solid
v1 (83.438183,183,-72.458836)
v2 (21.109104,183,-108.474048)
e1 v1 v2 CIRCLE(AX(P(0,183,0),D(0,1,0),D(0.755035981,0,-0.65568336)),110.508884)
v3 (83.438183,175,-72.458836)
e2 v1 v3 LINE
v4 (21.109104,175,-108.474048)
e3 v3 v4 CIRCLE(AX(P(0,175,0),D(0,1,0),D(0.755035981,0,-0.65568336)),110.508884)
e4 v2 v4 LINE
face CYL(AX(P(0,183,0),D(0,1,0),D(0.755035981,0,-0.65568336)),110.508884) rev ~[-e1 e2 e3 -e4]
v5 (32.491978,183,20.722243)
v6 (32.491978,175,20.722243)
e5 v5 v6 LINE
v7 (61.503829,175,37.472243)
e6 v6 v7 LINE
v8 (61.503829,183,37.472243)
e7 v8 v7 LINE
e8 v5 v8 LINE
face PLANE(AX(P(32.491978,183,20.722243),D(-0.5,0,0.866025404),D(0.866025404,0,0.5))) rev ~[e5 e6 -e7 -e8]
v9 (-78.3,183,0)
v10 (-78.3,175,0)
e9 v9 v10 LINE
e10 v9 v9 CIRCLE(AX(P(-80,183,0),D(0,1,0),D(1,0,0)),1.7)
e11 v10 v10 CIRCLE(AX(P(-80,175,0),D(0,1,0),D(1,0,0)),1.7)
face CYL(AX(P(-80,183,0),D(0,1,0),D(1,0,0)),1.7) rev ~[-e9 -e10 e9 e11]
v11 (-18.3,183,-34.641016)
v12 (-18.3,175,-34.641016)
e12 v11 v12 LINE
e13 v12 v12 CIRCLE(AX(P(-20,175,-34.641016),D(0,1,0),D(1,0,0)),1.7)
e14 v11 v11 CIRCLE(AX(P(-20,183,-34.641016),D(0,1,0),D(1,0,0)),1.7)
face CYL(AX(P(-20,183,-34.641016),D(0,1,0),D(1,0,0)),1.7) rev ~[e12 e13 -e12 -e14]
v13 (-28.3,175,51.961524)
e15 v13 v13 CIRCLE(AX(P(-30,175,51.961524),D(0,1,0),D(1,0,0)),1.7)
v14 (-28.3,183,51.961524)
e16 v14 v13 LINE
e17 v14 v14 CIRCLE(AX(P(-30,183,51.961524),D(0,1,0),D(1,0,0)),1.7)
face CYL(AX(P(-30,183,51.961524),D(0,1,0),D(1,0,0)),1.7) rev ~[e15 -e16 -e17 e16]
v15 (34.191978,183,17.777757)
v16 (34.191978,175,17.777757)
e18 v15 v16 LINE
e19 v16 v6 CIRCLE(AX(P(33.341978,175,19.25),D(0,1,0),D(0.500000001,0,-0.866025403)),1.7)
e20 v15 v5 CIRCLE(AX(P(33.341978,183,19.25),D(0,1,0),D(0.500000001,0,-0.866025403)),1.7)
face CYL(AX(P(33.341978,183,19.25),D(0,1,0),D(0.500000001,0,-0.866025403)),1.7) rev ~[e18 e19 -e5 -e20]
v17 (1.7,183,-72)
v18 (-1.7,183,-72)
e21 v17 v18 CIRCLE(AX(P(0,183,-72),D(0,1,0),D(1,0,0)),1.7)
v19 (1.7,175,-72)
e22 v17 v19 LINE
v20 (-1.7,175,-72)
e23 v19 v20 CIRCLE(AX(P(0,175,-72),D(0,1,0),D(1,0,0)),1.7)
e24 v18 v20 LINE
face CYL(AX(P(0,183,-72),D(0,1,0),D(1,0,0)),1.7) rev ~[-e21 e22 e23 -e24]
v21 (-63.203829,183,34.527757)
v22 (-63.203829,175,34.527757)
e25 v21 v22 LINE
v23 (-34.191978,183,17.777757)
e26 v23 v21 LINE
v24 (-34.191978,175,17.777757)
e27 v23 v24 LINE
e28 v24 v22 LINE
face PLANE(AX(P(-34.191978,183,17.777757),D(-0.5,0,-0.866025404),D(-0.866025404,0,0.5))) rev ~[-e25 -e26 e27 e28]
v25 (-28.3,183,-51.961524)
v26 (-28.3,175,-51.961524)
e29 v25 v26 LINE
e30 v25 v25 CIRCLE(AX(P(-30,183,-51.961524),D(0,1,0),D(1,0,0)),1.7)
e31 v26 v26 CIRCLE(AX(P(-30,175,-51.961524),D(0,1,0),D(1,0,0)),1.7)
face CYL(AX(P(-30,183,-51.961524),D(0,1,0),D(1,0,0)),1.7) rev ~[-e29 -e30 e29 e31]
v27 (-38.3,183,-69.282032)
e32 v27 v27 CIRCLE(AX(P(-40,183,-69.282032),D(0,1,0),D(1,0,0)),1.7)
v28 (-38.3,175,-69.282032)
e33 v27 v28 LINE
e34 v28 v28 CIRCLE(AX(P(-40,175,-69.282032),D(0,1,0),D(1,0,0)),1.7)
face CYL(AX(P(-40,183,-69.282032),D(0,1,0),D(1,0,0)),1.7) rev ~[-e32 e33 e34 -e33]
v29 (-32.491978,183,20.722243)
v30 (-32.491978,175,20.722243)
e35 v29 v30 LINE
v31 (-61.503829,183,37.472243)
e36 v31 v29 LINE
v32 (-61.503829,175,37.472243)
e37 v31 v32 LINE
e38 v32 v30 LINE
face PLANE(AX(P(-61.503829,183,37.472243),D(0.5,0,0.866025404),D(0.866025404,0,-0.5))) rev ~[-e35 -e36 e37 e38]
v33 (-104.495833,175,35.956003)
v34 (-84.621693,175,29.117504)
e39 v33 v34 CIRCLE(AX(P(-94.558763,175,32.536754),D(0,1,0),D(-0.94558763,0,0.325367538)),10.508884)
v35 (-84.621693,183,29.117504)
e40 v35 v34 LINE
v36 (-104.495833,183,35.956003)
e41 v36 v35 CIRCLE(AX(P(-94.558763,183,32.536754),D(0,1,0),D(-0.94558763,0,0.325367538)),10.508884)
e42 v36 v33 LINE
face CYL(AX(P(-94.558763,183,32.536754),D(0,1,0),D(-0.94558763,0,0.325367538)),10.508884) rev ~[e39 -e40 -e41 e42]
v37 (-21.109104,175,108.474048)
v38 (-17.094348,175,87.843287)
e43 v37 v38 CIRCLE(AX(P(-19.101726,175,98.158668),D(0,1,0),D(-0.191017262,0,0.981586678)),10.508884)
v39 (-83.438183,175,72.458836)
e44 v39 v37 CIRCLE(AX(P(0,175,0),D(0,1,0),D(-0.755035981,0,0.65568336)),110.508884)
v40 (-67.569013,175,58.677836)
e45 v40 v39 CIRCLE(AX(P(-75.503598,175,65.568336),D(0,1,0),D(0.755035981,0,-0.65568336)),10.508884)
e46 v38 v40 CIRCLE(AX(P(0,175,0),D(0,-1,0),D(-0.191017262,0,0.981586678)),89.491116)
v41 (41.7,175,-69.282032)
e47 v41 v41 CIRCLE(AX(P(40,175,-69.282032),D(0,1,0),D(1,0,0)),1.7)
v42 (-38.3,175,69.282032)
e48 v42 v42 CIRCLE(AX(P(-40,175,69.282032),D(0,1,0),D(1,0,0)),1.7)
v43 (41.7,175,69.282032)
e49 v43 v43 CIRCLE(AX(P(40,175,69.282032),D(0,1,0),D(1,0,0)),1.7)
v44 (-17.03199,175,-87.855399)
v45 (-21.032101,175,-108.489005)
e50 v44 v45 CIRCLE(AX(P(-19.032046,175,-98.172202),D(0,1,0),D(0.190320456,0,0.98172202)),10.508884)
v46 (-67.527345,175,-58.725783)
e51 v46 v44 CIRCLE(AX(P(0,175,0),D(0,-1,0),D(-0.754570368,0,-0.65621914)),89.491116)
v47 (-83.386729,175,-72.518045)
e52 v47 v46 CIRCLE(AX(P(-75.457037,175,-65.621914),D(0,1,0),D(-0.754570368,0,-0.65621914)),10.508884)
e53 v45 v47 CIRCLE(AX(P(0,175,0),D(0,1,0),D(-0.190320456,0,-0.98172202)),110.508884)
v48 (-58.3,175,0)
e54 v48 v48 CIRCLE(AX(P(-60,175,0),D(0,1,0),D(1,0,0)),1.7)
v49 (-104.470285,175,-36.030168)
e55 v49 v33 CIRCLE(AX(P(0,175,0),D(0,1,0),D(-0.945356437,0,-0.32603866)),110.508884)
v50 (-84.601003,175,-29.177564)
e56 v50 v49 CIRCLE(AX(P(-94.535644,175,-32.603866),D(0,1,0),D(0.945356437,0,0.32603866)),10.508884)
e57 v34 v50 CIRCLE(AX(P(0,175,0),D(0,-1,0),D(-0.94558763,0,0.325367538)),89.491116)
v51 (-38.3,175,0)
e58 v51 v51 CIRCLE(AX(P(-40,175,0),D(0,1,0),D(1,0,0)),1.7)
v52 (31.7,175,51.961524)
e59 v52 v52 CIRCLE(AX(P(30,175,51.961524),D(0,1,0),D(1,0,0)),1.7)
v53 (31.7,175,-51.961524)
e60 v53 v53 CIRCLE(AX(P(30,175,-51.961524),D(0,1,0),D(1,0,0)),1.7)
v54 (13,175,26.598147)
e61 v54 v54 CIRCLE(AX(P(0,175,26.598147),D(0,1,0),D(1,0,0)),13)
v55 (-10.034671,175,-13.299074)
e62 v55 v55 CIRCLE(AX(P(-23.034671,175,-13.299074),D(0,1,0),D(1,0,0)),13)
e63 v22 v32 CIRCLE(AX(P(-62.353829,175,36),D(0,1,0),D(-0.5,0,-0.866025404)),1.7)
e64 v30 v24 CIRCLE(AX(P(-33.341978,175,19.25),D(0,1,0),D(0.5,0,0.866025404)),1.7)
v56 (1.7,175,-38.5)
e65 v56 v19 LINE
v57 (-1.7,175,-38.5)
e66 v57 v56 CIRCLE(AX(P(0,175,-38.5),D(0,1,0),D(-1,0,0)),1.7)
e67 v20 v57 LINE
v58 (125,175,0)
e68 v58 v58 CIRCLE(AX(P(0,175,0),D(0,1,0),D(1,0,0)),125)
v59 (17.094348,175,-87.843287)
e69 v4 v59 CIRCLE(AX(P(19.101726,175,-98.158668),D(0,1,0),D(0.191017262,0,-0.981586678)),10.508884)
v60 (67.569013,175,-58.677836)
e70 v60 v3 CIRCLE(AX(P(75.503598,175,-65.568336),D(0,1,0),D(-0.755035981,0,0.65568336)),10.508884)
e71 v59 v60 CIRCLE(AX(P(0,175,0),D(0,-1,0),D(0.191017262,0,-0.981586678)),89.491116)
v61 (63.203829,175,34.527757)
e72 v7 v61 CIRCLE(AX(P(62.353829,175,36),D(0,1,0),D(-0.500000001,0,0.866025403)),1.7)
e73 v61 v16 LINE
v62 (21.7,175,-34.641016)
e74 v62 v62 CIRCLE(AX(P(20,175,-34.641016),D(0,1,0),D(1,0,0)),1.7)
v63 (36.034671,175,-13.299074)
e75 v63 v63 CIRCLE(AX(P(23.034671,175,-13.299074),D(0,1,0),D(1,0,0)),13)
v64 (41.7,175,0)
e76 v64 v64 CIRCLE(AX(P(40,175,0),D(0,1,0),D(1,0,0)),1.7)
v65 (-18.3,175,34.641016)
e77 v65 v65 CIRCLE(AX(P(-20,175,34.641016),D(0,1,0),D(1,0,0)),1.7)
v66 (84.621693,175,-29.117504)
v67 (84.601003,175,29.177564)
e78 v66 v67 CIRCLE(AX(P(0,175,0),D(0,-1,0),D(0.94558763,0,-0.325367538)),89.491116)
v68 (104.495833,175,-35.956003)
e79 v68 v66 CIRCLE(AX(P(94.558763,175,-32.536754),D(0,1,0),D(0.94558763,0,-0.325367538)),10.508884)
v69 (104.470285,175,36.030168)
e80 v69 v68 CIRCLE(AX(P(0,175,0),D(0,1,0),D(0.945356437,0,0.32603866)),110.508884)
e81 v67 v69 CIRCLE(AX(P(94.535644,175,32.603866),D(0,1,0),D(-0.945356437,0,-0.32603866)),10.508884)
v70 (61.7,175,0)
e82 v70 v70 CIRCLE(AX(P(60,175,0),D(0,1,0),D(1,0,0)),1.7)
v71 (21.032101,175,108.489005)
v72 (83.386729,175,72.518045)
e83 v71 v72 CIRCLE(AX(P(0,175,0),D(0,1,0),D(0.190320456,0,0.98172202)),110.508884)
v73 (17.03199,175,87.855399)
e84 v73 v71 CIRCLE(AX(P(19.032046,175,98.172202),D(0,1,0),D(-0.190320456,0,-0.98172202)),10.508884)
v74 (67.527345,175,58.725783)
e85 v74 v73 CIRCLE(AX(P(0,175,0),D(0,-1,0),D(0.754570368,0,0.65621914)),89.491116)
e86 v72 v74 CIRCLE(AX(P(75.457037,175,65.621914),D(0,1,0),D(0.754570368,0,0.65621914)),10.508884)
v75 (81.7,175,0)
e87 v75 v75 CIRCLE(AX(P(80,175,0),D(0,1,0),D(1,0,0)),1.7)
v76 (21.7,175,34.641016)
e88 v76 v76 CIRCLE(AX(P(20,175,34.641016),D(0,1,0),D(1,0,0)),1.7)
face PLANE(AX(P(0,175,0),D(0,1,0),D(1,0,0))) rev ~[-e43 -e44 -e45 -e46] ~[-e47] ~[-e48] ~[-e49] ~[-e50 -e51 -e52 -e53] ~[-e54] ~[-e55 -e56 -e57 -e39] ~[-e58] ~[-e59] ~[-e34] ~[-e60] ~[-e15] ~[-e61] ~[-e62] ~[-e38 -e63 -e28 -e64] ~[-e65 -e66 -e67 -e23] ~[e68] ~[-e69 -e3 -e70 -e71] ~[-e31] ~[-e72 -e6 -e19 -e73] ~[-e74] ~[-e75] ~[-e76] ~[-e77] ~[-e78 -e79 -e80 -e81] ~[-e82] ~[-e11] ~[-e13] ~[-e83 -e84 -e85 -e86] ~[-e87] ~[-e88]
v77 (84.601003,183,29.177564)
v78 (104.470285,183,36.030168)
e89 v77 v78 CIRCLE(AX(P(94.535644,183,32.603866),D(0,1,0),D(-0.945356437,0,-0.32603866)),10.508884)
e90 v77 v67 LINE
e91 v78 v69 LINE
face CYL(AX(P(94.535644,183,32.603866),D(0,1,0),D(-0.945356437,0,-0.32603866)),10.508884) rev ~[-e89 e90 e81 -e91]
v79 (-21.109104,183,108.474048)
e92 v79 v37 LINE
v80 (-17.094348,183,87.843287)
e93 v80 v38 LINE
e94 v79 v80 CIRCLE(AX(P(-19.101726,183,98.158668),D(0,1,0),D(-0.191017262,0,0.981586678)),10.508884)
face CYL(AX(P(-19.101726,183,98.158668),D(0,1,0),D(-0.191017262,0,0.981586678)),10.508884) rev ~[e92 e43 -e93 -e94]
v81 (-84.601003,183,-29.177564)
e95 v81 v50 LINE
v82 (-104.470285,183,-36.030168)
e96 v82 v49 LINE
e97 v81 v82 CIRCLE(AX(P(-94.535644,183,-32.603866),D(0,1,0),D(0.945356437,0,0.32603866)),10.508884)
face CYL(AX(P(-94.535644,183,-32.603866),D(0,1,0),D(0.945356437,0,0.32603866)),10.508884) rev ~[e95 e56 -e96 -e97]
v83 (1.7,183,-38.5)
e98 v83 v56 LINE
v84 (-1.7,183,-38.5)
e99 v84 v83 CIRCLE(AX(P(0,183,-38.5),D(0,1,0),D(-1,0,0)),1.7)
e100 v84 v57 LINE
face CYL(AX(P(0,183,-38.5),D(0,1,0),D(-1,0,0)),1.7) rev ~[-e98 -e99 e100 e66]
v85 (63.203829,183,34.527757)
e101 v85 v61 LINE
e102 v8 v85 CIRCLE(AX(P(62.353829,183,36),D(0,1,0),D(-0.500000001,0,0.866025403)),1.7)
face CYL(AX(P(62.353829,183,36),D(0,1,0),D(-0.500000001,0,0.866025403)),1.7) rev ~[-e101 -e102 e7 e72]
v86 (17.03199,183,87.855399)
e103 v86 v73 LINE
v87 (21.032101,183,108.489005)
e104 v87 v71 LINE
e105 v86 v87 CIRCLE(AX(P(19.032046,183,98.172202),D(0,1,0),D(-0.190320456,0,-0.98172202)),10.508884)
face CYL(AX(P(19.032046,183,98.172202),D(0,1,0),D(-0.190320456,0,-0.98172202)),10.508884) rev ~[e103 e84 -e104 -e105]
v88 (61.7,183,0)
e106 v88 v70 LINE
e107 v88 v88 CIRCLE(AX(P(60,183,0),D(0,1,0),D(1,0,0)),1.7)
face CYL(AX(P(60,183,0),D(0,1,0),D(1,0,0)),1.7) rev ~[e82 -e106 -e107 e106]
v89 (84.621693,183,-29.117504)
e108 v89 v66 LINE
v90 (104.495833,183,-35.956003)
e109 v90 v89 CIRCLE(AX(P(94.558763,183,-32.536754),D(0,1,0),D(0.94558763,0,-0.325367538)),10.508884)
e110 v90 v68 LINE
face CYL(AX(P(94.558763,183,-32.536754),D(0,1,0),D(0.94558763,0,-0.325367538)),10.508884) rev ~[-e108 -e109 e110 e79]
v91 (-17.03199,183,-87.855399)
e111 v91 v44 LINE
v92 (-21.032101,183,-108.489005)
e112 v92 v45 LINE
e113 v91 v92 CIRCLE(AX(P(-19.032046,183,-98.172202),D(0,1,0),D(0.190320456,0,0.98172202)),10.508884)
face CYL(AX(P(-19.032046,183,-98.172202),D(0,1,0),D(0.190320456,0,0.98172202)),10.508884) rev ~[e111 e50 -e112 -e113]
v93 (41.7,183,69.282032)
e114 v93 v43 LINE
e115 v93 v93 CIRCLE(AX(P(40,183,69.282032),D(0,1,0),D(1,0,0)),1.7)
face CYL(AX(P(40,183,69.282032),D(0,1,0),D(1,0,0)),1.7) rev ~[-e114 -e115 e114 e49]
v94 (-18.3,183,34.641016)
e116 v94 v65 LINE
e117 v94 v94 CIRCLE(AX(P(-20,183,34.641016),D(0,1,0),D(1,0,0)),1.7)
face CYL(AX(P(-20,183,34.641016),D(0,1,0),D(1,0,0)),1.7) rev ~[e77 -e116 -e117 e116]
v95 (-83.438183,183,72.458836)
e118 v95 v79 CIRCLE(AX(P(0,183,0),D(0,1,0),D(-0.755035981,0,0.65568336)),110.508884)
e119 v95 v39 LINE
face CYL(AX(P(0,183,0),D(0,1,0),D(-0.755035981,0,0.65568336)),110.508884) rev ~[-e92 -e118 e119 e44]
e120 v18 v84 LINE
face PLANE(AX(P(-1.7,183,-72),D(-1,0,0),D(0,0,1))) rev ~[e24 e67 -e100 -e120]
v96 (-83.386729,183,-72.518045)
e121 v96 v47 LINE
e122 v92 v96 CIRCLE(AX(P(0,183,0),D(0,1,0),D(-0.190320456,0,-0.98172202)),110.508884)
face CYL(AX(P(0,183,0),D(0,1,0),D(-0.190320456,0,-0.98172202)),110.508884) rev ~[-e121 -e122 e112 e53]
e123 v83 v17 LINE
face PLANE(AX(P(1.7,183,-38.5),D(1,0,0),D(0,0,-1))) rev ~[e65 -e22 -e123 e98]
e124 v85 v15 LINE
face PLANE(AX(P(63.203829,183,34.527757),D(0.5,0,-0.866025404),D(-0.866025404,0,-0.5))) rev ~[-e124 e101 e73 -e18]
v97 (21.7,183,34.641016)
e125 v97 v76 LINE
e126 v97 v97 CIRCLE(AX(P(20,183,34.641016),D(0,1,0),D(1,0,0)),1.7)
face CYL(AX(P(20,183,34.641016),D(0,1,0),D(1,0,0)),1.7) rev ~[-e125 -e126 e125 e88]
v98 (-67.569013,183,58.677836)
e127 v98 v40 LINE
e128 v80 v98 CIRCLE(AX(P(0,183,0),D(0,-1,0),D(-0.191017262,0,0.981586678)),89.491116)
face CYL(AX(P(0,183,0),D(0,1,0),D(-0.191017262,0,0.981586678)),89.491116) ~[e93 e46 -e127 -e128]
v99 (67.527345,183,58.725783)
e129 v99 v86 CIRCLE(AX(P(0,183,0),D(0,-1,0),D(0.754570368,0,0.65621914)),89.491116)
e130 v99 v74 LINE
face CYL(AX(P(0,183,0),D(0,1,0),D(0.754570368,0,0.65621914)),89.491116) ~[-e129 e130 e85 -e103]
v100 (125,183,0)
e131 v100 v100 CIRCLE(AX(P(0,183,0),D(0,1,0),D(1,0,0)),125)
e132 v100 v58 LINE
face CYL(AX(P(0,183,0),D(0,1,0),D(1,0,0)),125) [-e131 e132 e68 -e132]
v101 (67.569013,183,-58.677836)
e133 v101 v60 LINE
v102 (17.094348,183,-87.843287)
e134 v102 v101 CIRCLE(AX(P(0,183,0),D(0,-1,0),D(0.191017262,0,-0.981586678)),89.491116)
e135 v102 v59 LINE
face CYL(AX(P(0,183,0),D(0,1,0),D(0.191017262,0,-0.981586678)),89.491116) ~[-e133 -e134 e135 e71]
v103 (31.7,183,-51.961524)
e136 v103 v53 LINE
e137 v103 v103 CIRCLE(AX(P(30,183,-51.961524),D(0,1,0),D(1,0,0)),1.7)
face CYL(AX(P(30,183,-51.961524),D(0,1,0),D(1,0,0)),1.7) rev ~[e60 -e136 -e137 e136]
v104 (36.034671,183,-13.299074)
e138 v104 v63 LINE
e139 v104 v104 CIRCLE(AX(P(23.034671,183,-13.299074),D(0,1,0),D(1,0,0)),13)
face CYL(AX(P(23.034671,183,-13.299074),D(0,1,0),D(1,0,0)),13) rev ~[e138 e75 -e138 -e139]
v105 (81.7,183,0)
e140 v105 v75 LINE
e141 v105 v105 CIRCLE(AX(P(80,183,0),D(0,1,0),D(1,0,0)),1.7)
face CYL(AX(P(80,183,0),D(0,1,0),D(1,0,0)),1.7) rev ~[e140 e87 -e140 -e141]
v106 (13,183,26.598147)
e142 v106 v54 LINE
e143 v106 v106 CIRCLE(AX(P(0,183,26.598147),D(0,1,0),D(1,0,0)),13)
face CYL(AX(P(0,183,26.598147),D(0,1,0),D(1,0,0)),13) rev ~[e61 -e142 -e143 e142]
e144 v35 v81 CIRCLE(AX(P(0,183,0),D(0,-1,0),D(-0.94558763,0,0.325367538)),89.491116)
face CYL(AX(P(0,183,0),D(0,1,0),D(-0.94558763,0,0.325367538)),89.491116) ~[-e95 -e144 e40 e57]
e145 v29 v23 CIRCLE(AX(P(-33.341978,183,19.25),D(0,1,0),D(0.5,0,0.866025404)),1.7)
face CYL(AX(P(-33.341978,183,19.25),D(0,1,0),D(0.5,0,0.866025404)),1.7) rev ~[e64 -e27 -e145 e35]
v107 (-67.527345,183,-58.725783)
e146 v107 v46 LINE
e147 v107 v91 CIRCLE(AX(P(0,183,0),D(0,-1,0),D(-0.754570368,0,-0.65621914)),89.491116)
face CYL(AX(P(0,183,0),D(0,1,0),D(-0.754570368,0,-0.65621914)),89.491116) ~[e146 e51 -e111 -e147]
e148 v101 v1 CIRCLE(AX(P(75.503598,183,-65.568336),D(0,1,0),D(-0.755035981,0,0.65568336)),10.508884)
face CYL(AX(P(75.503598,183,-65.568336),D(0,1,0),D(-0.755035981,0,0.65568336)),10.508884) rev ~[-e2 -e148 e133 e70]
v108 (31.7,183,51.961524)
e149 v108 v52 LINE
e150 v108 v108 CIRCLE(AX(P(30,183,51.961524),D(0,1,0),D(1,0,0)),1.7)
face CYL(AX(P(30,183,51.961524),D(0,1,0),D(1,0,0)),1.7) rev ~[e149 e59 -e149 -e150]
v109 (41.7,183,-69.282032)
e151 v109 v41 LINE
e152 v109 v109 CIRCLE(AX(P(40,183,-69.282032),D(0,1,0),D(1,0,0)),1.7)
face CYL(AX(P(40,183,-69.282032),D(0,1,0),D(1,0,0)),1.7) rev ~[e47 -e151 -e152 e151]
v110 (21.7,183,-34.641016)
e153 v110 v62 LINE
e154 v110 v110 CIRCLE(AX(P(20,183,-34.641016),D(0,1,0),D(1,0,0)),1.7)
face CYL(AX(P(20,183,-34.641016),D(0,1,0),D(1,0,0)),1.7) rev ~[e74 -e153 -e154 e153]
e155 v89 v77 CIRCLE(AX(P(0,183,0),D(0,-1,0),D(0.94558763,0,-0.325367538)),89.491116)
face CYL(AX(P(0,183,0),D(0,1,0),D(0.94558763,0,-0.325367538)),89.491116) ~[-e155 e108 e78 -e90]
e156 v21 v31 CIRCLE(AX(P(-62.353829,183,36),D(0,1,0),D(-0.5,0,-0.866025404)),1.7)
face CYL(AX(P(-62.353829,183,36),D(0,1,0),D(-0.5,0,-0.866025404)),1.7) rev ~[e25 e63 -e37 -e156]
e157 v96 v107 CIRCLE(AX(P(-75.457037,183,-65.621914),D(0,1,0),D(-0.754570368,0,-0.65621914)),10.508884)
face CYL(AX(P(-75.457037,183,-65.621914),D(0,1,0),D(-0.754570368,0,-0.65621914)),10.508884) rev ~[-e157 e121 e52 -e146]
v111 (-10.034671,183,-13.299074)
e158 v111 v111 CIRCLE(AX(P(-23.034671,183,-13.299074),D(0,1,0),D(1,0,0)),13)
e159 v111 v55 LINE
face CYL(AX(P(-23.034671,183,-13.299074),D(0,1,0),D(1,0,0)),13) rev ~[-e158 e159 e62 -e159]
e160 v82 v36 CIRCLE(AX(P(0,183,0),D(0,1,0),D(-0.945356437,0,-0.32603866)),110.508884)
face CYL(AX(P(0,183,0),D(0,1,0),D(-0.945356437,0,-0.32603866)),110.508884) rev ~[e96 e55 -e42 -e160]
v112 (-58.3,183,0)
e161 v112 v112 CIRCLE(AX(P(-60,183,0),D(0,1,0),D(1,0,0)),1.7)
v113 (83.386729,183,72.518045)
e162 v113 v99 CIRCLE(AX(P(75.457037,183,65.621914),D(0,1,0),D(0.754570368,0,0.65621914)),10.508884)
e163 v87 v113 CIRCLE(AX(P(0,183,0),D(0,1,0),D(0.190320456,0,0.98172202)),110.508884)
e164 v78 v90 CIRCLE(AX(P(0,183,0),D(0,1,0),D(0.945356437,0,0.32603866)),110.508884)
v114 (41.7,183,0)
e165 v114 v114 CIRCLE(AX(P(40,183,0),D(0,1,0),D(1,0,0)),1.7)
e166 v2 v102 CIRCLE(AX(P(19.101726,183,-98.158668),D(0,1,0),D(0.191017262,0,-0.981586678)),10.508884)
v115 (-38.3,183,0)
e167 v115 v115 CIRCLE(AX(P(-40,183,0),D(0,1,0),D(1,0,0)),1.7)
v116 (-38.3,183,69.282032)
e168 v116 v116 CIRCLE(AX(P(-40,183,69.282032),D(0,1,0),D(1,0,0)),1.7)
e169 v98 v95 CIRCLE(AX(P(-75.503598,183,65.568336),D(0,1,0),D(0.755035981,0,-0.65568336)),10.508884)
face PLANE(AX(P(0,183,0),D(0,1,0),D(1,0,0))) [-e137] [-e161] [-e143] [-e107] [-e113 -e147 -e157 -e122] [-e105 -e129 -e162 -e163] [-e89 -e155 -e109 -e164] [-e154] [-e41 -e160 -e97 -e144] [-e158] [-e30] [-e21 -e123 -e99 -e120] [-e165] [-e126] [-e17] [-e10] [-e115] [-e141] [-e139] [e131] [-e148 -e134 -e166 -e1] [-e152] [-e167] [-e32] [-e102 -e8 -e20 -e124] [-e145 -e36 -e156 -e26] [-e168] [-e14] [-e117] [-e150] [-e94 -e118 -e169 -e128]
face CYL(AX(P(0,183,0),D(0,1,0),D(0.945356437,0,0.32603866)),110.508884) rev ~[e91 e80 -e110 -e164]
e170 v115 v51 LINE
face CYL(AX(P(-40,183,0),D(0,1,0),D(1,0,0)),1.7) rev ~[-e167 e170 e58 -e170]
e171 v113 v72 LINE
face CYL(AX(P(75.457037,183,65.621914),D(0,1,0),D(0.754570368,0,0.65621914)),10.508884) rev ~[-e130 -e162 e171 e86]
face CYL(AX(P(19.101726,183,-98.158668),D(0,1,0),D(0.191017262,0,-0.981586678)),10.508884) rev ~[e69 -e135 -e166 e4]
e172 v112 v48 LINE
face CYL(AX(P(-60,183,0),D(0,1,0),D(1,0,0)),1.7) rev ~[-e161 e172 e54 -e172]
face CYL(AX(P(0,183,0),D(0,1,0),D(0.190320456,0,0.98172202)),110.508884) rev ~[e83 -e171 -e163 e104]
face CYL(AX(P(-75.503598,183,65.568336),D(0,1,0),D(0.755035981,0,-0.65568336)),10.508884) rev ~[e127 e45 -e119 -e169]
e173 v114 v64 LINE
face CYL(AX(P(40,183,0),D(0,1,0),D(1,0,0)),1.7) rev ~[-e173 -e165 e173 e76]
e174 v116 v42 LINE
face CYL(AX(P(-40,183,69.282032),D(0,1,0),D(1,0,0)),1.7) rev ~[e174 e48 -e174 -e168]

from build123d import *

# Parameters (mm, degrees)
BOSS_EXTRUDE4_START  = 175
SKETCH1_R            = 100
BOSS_EXTRUDE4_DEPTH  = 8
CUT_EXTRUDE5_DEPTH   = 10
SKETCH19_R           = 125
SKETCH19_R_2         = 100
BOSS_EXTRUDE11_DEPTH = 8
SKETCH20_R           = 1.7
CUT_EXTRUDE8_DEPTH   = 8
CUT_EXTRUDE9_START   = 183
SKETCH22_R           = 13
CUT_EXTRUDE9_DEPTH   = 8


with BuildPart() as part:
    # Sketch1 → Boss-Extrude4 (new body)
    with BuildSketch(Plane(origin=(0, 0, 0), x_dir=(1, 0, 0), z_dir=(0, 1, 0)).offset(BOSS_EXTRUDE4_START)):
        Circle(SKETCH1_R)
    extrude(amount=BOSS_EXTRUDE4_DEPTH)

    # Sketch15 → Cut-Extrude5 (cut)
    with BuildSketch(Plane(origin=(0, 183, 0), x_dir=(1, 0, 0), z_dir=(0, 1, 0))):
        with BuildLine():
            Line((1.7, 38.5), (1.7, 72))
            ThreePointArc((1.7, 72), (0, 73.7), (-1.7, 72))
            Line((-1.7, 72), (-1.7, 38.5))
            ThreePointArc((-1.7, 38.5), (0, 36.8), (1.7, 38.5))
        make_face()
        with BuildLine():
            Line((32.491978046, -20.722243186), (61.503829072, -37.472243186))
            ThreePointArc((61.503829072, -37.472243186), (63.826072259, -36.85), (63.203829072, -34.527756814))
            Line((63.203829072, -34.527756814), (34.191978046, -17.777756814))
            ThreePointArc((34.191978046, -17.777756814), (31.869734859, -18.4), (32.491978046, -20.722243186))
        make_face()
        with BuildLine():
            Line((-34.191978046, -17.777756814), (-63.203829072, -34.527756814))
            ThreePointArc((-63.203829072, -34.527756814), (-63.826072259, -36.85), (-61.503829072, -37.472243186))
            Line((-61.503829072, -37.472243186), (-32.491978046, -20.722243186))
            ThreePointArc((-32.491978046, -20.722243186), (-31.869734859, -18.4), (-34.191978046, -17.777756814))
        make_face()
    extrude(amount=-CUT_EXTRUDE5_DEPTH, mode=Mode.SUBTRACT)

    # Sketch19 → Boss-Extrude11 (add)
    with BuildSketch(Plane(origin=(0, 183, 0), x_dir=(1, 0, 0), z_dir=(0, 1, 0))):
        Circle(SKETCH19_R)
        Circle(SKETCH19_R_2, mode=Mode.SUBTRACT)
    extrude(amount=-BOSS_EXTRUDE11_DEPTH)

    # Sketch20 → Cut-Extrude8 (cut)
    with BuildSketch(Plane(origin=(0, 183, 0), x_dir=(1, 0, 0), z_dir=(0, 1, 0))):
        with Locations((30, -51.961524227)):
            Circle(SKETCH20_R)
        with Locations((40, -69.282032303)):
            Circle(SKETCH20_R)
        with Locations((20, -34.641016151)):
            Circle(SKETCH20_R)
        with Locations((-30, -51.961524227)):
            Circle(SKETCH20_R)
        with Locations((-40, -69.282032303)):
            Circle(SKETCH20_R)
        with Locations((-20, -34.641016151)):
            Circle(SKETCH20_R)
        with Locations((-60, 0)):
            Circle(SKETCH20_R)
        with Locations((-80, 0)):
            Circle(SKETCH20_R)
        with Locations((-40, 0)):
            Circle(SKETCH20_R)
        with Locations((-30, 51.961524227)):
            Circle(SKETCH20_R)
        with Locations((-40, 69.282032303)):
            Circle(SKETCH20_R)
        with Locations((-20, 34.641016151)):
            Circle(SKETCH20_R)
        with Locations((30, 51.961524227)):
            Circle(SKETCH20_R)
        with Locations((40, 69.282032303)):
            Circle(SKETCH20_R)
        with Locations((20, 34.641016151)):
            Circle(SKETCH20_R)
        with Locations((60, 0)):
            Circle(SKETCH20_R)
        with Locations((80, 0)):
            Circle(SKETCH20_R)
        with Locations((40, 0)):
            Circle(SKETCH20_R)
        with BuildLine():
            ThreePointArc((-21.032101141, 108.489004544), (-55.220471881, 95.723105208), (-83.386729073, 72.51804465))
            ThreePointArc((-83.386729073, 72.51804465), (-82.353167452, 57.69222173), (-67.527344531, 58.725783351))
            ThreePointArc((-67.527344531, 58.725783351), (-44.718048919, 77.517456037), (-17.031990051, 87.855399404))
            ThreePointArc((-17.031990051, 87.855399404), (-8.715243026, 100.172257519), (-21.032101141, 108.489004544))
        make_face()
        with BuildLine():
            ThreePointArc((83.438183396, 72.458836155), (55.288404899, 95.683884061), (21.109104364, 108.47404804))
            ThreePointArc((21.109104364, 108.47404804), (8.786345893, 100.16604596), (17.094347973, 87.84328749))
            ThreePointArc((17.094347973, 87.84328749), (44.773061705, 77.48569439), (67.569012718, 58.677835764))
            ThreePointArc((67.569012718, 58.677835764), (82.394098253, 57.633750621), (83.438183396, 72.458836155))
        make_face()
        with BuildLine():
            ThreePointArc((104.470284537, -36.030168389), (110.508876779, -0.039221146), (104.495833436, 35.95600339))
            ThreePointArc((104.495833436, 35.95600339), (91.139513345, 42.47382423), (84.621692504, 29.117504139))
            ThreePointArc((84.621692504, 29.117504139), (89.491110624, -0.031761647), (84.601002769, -29.177563641))
            ThreePointArc((84.601002769, -29.177563641), (91.109341279, -42.538506898), (104.470284537, -36.030168389))
        make_face()
        with BuildLine():
            ThreePointArc((21.032101141, -108.489004544), (55.220471881, -95.723105208), (83.386729073, -72.51804465))
            ThreePointArc((83.386729073, -72.51804465), (82.353167452, -57.69222173), (67.527344531, -58.725783351))
            ThreePointArc((67.527344531, -58.725783351), (44.718048919, -77.517456037), (17.031990051, -87.855399404))
            ThreePointArc((17.031990051, -87.855399404), (8.715243026, -100.172257519), (21.032101141, -108.489004544))
        make_face()
        with BuildLine():
            ThreePointArc((-83.438183396, -72.458836155), (-55.288404899, -95.683884061), (-21.109104364, -108.47404804))
            ThreePointArc((-21.109104364, -108.47404804), (-8.786345893, -100.16604596), (-17.094347973, -87.84328749))
            ThreePointArc((-17.094347973, -87.84328749), (-44.773061705, -77.48569439), (-67.569012718, -58.677835764))
            ThreePointArc((-67.569012718, -58.677835764), (-82.394098253, -57.633750621), (-83.438183396, -72.458836155))
        make_face()
        with BuildLine():
            ThreePointArc((-104.470284537, 36.030168389), (-110.508876779, 0.039221146), (-104.495833436, -35.95600339))
            ThreePointArc((-104.495833436, -35.95600339), (-91.139513345, -42.47382423), (-84.621692504, -29.117504139))
            ThreePointArc((-84.621692504, -29.117504139), (-89.491110624, 0.031761647), (-84.601002769, 29.177563641))
            ThreePointArc((-84.601002769, 29.177563641), (-91.109341279, 42.538506898), (-104.470284537, 36.030168389))
        make_face()
    extrude(amount=-CUT_EXTRUDE8_DEPTH, mode=Mode.SUBTRACT)

    # Sketch22 → Cut-Extrude9 (cut)
    with BuildSketch(Plane(origin=(0, 0, 0), x_dir=(1, 0, 0), z_dir=(0, 1, 0)).offset(CUT_EXTRUDE9_START)):
        with Locations((23.034671131, 13.299073578)):
            Circle(SKETCH22_R)
        with Locations((0, -26.598147157)):
            Circle(SKETCH22_R)
        with Locations((-23.034671131, 13.299073578)):
            Circle(SKETCH22_R)
    extrude(amount=-CUT_EXTRUDE9_DEPTH, mode=Mode.SUBTRACT)


solid = part.part
